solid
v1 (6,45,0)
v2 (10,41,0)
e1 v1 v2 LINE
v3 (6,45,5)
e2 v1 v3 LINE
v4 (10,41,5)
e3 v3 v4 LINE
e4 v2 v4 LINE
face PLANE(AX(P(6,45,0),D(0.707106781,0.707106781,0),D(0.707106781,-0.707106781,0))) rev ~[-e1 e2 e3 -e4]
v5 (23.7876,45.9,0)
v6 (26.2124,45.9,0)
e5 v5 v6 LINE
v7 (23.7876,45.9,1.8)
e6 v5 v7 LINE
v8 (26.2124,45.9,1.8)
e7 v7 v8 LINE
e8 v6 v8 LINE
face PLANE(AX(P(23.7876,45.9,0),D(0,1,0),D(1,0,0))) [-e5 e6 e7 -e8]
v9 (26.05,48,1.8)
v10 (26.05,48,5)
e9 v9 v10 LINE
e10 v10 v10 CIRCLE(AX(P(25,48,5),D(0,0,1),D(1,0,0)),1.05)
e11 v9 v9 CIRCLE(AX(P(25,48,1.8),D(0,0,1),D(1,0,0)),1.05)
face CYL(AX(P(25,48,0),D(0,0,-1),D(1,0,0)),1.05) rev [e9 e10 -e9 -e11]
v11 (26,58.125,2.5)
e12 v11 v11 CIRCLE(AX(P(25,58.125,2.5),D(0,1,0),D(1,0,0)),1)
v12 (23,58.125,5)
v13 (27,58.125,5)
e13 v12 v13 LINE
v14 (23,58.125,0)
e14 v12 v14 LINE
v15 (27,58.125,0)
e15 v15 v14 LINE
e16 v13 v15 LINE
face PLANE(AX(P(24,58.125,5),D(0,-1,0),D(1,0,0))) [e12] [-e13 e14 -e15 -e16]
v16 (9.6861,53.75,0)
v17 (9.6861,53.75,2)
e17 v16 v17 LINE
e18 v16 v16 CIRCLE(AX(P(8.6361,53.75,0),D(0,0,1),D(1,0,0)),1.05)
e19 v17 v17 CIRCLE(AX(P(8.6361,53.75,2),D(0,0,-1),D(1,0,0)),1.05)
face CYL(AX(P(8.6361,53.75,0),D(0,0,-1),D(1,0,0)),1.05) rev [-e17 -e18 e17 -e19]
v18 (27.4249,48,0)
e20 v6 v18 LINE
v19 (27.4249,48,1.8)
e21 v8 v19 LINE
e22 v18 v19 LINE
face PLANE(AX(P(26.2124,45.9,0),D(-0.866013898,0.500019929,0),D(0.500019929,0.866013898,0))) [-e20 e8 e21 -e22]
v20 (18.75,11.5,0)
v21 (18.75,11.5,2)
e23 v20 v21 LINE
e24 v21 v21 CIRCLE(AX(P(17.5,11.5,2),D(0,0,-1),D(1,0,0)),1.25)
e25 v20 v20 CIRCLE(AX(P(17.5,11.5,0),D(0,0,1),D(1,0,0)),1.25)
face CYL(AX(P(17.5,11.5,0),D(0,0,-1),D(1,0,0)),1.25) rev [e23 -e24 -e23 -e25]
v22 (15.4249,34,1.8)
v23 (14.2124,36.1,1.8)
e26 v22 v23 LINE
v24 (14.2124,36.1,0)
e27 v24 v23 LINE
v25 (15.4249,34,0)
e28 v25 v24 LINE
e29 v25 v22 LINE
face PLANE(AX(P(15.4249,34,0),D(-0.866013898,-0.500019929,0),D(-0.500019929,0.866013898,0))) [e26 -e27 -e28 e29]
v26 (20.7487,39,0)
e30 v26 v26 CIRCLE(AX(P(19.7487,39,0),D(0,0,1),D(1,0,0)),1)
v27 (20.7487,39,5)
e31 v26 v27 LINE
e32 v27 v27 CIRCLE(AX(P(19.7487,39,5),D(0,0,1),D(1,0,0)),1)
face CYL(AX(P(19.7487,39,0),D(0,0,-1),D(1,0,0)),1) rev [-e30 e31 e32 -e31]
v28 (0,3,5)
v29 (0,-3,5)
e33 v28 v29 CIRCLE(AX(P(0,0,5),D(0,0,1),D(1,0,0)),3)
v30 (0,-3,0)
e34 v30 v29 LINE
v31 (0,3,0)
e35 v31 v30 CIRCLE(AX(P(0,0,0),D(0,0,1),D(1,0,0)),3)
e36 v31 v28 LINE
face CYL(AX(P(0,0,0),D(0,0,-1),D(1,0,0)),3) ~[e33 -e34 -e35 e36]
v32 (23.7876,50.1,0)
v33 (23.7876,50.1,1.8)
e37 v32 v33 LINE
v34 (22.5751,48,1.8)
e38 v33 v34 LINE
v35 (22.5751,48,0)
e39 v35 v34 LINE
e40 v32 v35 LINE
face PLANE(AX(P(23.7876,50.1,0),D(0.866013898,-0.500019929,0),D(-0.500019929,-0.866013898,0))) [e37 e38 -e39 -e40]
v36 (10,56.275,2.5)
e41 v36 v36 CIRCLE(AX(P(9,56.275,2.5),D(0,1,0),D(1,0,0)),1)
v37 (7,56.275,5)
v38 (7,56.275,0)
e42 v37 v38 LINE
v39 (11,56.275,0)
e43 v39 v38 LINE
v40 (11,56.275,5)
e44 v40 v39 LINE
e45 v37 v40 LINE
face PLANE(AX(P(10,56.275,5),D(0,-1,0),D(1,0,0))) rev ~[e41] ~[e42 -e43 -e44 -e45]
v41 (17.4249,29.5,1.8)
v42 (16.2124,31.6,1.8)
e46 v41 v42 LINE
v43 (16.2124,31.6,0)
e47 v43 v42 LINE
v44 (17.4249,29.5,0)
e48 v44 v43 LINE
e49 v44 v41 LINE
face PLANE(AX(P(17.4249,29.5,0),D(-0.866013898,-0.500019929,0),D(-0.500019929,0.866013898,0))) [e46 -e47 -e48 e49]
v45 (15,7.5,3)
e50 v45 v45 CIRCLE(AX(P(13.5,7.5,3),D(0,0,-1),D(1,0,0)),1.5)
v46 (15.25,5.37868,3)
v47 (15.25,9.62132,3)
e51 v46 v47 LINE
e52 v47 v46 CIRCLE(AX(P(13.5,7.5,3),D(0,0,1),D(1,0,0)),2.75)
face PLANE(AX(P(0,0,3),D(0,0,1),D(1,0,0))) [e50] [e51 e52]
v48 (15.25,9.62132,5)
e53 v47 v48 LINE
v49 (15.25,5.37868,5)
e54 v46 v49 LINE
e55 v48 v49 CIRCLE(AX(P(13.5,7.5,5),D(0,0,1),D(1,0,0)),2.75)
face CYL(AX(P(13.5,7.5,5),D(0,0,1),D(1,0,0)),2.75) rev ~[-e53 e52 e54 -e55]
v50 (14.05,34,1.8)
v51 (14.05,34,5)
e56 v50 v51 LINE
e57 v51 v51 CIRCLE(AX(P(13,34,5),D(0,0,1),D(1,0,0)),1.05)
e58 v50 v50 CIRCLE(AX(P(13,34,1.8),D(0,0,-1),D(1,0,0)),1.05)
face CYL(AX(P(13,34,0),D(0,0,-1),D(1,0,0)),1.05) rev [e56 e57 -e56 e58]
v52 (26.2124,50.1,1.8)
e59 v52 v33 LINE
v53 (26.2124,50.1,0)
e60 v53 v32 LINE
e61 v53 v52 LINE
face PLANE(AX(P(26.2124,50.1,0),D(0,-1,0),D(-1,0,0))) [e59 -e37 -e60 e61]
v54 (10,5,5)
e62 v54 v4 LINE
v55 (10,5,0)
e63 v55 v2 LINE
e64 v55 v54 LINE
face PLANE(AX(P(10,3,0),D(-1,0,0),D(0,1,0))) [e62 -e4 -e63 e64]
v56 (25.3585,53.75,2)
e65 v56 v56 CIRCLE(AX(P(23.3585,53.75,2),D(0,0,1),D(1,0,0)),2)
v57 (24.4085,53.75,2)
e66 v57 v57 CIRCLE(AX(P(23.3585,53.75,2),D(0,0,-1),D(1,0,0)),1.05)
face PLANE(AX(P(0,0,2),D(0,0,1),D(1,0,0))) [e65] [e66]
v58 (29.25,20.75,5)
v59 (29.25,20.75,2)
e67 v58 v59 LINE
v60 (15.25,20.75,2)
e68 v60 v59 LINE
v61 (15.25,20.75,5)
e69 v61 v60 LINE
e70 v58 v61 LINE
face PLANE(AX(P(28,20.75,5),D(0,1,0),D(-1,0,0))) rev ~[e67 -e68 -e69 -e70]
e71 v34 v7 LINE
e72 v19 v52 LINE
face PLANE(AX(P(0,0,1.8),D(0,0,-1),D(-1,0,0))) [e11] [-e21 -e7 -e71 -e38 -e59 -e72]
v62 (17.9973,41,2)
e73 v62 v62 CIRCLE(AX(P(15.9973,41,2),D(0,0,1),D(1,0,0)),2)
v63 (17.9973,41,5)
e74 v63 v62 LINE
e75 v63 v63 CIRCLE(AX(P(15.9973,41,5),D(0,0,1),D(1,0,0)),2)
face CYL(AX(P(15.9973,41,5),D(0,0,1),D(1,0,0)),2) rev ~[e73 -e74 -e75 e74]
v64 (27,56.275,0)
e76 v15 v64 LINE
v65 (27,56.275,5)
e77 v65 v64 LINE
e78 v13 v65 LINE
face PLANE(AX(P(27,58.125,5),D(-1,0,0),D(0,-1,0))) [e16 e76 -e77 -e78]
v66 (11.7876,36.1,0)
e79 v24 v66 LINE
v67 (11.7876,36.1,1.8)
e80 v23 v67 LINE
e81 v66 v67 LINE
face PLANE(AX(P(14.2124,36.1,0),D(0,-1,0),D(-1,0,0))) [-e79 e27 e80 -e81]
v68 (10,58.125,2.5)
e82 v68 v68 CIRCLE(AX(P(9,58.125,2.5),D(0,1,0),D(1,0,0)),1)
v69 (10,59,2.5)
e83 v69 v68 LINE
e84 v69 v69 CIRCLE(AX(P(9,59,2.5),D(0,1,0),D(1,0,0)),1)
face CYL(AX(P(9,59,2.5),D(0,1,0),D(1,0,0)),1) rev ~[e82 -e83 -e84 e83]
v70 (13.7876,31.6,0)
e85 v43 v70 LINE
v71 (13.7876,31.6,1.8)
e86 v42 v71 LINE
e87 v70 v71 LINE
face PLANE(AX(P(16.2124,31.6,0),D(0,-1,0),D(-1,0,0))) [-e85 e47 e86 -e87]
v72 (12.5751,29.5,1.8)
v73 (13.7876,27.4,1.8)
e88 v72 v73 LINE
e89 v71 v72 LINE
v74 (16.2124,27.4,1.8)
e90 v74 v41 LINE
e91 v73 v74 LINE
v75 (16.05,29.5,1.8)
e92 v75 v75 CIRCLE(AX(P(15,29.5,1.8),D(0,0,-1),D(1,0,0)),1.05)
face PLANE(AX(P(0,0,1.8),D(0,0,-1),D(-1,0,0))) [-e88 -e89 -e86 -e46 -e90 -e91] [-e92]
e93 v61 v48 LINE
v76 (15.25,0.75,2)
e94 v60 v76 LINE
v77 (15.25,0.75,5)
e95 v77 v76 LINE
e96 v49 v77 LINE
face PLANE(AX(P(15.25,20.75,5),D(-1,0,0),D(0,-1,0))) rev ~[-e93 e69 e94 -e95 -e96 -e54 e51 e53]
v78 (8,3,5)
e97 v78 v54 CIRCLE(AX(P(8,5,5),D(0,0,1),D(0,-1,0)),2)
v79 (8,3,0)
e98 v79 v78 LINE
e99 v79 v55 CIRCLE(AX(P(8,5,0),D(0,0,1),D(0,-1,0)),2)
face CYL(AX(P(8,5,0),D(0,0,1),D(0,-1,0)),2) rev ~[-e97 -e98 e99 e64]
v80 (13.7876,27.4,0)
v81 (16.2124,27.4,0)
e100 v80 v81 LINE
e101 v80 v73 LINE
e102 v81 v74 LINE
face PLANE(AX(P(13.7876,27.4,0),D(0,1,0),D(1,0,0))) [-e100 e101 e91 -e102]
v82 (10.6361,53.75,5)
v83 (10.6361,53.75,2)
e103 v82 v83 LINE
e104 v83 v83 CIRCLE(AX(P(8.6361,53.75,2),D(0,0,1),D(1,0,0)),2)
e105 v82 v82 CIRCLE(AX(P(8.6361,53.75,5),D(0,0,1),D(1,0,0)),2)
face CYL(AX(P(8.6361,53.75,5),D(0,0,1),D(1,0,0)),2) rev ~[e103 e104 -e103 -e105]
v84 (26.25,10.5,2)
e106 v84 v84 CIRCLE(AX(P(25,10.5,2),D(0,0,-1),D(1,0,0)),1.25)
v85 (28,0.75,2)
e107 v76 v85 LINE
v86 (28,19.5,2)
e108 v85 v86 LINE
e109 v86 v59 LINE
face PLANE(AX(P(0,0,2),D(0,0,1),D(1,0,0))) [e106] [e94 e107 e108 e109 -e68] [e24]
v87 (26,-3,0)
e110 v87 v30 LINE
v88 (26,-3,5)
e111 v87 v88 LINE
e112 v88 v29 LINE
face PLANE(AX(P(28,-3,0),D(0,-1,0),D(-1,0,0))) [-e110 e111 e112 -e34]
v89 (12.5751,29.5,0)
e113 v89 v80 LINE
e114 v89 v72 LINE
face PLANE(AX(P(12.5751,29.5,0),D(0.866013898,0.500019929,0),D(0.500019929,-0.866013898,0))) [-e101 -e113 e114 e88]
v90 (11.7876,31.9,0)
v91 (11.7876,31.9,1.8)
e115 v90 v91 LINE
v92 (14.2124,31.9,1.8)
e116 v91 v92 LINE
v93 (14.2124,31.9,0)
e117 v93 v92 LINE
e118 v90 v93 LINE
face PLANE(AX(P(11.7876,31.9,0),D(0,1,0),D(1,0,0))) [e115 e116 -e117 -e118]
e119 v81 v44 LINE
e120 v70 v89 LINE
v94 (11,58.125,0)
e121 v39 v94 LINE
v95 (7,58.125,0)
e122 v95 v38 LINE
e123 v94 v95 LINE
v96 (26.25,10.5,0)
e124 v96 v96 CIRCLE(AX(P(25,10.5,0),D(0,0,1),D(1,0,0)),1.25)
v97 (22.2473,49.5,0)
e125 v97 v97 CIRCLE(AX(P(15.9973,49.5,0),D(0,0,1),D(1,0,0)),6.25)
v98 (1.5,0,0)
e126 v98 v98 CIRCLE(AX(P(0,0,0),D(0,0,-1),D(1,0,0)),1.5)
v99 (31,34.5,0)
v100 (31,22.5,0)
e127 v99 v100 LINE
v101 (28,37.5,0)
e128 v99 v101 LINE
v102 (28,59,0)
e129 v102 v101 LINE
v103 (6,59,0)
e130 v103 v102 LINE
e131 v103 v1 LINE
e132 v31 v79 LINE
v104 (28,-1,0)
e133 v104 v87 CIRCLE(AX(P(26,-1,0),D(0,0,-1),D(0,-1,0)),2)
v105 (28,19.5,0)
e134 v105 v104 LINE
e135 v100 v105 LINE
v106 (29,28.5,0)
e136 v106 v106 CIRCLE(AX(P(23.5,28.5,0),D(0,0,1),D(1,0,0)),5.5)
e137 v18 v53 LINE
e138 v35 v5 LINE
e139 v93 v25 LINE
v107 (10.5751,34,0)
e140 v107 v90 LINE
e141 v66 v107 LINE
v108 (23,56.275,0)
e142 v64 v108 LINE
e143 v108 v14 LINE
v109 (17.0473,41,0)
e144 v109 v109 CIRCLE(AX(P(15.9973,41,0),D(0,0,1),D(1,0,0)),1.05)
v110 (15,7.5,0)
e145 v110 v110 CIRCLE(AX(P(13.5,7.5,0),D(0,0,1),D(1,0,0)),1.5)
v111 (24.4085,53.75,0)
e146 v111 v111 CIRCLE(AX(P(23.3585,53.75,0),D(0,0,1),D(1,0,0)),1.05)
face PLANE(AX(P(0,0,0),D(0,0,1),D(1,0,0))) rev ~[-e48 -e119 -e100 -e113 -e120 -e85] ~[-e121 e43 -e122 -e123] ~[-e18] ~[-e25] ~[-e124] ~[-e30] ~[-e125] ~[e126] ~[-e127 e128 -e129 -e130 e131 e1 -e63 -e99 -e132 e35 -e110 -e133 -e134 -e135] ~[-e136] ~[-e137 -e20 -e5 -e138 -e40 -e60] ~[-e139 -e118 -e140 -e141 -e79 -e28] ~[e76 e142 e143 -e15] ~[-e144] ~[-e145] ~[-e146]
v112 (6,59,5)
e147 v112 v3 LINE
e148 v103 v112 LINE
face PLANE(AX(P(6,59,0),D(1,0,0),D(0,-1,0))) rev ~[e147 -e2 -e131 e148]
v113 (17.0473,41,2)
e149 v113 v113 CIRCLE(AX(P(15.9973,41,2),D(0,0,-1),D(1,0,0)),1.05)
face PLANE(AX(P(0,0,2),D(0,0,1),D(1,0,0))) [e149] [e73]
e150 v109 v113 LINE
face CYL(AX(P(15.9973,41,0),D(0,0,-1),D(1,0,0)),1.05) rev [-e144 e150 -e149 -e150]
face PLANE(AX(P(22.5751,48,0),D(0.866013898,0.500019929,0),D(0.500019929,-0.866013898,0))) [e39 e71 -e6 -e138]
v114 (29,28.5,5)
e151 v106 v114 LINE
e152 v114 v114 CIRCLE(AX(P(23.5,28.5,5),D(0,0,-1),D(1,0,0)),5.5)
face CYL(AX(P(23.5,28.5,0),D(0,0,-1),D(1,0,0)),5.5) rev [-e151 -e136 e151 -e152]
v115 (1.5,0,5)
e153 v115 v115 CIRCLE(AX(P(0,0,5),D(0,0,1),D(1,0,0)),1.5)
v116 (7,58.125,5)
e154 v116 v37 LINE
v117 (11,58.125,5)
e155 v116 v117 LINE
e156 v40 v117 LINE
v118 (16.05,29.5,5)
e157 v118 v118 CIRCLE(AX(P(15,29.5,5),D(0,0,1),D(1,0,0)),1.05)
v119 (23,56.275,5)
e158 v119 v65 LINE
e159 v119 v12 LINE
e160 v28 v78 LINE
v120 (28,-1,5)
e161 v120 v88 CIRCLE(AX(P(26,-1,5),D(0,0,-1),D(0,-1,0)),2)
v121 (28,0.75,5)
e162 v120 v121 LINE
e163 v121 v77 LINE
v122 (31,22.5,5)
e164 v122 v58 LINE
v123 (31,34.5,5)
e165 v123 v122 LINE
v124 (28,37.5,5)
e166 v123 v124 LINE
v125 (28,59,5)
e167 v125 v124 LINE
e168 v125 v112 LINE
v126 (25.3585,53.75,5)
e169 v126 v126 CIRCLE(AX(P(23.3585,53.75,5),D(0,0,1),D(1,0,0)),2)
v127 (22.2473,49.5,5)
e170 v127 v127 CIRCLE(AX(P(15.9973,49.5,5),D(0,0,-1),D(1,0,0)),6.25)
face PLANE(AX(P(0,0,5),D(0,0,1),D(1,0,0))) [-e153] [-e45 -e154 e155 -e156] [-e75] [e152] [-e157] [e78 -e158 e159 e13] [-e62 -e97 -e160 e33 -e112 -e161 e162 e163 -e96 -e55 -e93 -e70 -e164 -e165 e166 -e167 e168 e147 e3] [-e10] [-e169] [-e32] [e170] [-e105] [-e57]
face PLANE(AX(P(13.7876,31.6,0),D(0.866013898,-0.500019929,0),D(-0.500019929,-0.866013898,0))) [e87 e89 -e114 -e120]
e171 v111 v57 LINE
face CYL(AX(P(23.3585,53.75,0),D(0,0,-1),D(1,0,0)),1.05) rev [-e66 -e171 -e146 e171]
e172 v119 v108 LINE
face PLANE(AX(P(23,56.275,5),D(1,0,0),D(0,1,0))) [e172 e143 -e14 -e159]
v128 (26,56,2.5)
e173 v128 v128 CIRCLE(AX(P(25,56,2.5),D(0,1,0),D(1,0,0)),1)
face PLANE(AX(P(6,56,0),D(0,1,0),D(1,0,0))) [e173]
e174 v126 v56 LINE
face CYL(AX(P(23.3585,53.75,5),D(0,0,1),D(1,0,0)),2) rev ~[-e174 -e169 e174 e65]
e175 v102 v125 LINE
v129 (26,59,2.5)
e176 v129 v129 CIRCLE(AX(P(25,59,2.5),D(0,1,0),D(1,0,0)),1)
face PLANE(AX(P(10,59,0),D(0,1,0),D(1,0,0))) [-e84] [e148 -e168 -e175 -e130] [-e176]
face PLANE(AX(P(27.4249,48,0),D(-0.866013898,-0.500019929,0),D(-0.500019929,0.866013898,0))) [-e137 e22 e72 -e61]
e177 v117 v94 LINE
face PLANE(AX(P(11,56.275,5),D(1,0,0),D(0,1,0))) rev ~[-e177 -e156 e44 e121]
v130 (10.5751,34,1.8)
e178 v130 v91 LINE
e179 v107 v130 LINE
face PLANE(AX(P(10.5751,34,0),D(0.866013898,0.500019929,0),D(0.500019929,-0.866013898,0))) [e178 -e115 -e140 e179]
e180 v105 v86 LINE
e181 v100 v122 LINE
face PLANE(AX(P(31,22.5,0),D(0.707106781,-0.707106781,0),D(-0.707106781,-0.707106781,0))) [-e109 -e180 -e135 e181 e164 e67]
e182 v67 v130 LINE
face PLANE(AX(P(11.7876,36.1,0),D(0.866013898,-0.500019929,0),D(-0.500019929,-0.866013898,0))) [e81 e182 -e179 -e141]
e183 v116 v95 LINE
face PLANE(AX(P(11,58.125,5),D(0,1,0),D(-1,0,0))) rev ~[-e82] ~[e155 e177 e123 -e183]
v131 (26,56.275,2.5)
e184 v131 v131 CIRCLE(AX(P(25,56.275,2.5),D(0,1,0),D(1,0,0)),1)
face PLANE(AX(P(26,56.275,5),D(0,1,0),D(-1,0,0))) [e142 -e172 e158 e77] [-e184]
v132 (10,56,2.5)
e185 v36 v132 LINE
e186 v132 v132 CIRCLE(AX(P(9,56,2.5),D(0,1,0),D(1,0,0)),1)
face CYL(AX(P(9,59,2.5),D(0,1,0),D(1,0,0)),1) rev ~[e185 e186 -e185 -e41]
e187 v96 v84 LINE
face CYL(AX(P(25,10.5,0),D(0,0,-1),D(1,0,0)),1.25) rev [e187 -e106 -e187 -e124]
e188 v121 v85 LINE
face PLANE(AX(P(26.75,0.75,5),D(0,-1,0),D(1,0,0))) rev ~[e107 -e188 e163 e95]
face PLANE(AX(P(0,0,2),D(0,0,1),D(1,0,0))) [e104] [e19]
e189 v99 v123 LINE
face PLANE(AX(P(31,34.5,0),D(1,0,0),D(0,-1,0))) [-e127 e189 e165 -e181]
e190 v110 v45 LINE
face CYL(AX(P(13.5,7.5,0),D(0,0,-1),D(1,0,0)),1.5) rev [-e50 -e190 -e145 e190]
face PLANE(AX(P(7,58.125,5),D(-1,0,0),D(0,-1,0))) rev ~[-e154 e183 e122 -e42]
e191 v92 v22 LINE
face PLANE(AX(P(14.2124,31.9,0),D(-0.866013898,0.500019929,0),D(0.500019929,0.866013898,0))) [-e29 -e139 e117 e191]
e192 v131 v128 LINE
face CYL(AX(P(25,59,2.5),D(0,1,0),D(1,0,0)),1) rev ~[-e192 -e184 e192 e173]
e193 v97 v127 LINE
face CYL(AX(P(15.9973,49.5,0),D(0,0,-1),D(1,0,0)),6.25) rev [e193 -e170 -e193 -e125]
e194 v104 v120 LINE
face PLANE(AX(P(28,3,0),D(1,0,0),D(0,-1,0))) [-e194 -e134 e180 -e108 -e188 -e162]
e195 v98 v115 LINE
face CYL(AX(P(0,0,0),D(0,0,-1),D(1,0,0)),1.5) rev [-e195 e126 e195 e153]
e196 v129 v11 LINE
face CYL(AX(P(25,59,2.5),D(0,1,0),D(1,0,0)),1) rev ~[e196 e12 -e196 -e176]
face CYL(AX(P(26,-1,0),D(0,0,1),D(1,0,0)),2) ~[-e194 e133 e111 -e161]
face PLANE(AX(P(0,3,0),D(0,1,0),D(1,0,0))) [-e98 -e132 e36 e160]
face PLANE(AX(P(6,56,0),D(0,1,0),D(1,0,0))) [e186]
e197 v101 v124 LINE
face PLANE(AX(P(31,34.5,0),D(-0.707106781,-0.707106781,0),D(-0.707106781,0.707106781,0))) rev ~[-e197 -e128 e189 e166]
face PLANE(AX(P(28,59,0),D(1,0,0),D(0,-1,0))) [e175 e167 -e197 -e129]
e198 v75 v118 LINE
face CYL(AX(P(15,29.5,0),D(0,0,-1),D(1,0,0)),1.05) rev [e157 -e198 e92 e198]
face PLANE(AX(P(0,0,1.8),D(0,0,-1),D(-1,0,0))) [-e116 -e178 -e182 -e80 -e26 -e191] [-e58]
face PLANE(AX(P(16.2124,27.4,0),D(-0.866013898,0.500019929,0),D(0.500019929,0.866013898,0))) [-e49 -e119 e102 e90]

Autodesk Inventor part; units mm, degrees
ref_plane "YZ Plane" through (0, 0, 0) normal (1, 0, 0) x (0, 1, 0)
ref_plane "XZ Plane" through (0, 0, 0) normal (0, 1, 0) x (-1, 0, 0)
ref_plane "XY Plane" through (0, 0, 0) normal (0, 0, 1) x (1, 0, 0)
sketch "Sketch1" plane through (0, 0, 0) normal (0, 0, 1) x (1, 0, 0)
  circle A0 centre (0, 0) radius 1.5
  circle A1 centre (0, 0) radius 3
  line L0 (0, 3) -> (28, 3)
  line L1 (28, 3) -> (28, -3)
  line L2 (28, -3) -> (0, -3)
  line L3 (0, -3) -> (0, 3)
  line L4 (28, 3) -> (10, 3)
  line L5 (10, 3) -> (10, 59)
  line L6 (10, 59) -> (28, 59)
  line L7 (28, 59) -> (28, 3)
  circle A2 centre (23.5, 28.5) radius 5.5
  circle A3 centre (15.9973, 49.5) radius 6.25
  line L8 (23.5, 28.5) -> (15.9973, 49.5) construction
  line L9 (23.5, 28.5) -> (10, 28.5) construction
  circle A4 centre (15.9973, 41) radius 1.05
  circle A5 centre (23.3585, 53.75) radius 1.05
  circle A6 centre (8.6361, 53.75) radius 1.05
  line L10 (10, 59) -> (6, 59)
  line L11 (6, 59) -> (6, 45)
  line L12 (6, 45) -> (10, 45)
  line L13 (10, 45) -> (10, 59)
  line L14 (6, 45) -> (10, 41)
  line L15 (6, 45) -> (11.6569, 45) construction
  line L16 (28, 34.5) -> (31, 34.5)
  line L17 (31, 34.5) -> (31, 22.5)
  line L18 (31, 22.5) -> (28, 22.5)
  line L19 (28, 22.5) -> (28, 34.5)
  line L20 (31, 34.5) -> (28, 37.5)
  line L21 (31, 34.5) -> (35.2426, 34.5) construction
  line L22 (31, 22.5) -> (28, 19.5)
  line L23 (31, 22.5) -> (35.2426, 22.5) construction
  circle A7 centre (13.5, 7.5) radius 1.5
  circle A8 centre (17.5, 11.5) radius 1.25
  circle A9 centre (25, 10.5) radius 1.25
  line L24 (15.9973, 49.5) -> (6, 49.5) construction
  line L25 (15.9973, 41) -> (15.9973, 49.5) construction
  circle A10 centre (19.7487, 39) radius 1
  circle A11 centre (15, 29.5) radius 1.05
  circle A12 centre (13, 34) radius 1.05
  circle A13 centre (25, 48) radius 1.05
  line L26 (10, 27) -> (28, 27) construction
  line L27 (28, 27) -> (28, 51) construction
  line L28 (28, 51) -> (10, 51) construction
  line L29 (10, 51) -> (10, 27) construction
  line L30 (11.7876, 31.9) -> (10.5751, 34) construction
  line L31 (10.5751, 34) -> (11.7876, 36.1) construction
  line L32 (11.7876, 36.1) -> (14.2124, 36.1) construction
  line L33 (14.2124, 36.1) -> (15.4249, 34) construction
  line L34 (15.4249, 34) -> (14.2124, 31.9) construction
  line L35 (14.2124, 31.9) -> (11.7876, 31.9) construction
  line L36 (13.7876, 27.4) -> (12.5751, 29.5) construction
  line L37 (12.5751, 29.5) -> (13.7876, 31.6) construction
  line L38 (13.7876, 31.6) -> (16.2124, 31.6) construction
  line L39 (16.2124, 31.6) -> (17.4249, 29.5) construction
  line L40 (17.4249, 29.5) -> (16.2124, 27.4) construction
  line L41 (16.2124, 27.4) -> (13.7876, 27.4) construction
  dimension "d0" = 3
  dimension "d1" = 6
  dimension "d2" = 28
  dimension "d3" = 6
  dimension "d4" = 0
  dimension "d5" = 3
  dimension "d6" = 18
  dimension "d7" = 56
  dimension "d8" = 11
  dimension "d9" = 4.5
  dimension "d10" = 25.5
  dimension "d11" = 12.5
  dimension "d12" = 22.3
  dimension "d14" = 2.1
  dimension "d17" = 9.5
  dimension "d20" = 360
  dimension "d22" = 4
  dimension "d23" = 14
  dimension "d24" = 45
  dimension "d25" = 3
  dimension "d26" = 12
  dimension "d27" = 6
  dimension "d28" = 135
  dimension "d29" = 135
  dimension "d32" = 3
  dimension "d33" = 10.5
  dimension "d34" = 3.5
  dimension "d35" = 2.5
  dimension "d36" = 14.5
  dimension "d37" = 7.5
  dimension "d38" = 2.5
  dimension "d39" = 15
  dimension "d40" = 13.5
  dimension "d60" = 8.5
  dimension "d61" = 270
  dimension "d82" = 2
  dimension "d83" = 11.15
  dimension "d84" = 2.1
  dimension "d85" = 2.1
  dimension "d86" = 2.1
  dimension "d87" = 5
  dimension "d88" = 3
  dimension "d89" = 25
  dimension "d90" = 29.5
  dimension "d91" = 3
  dimension "d92" = 11
  dimension "d93" = 24
  dimension "d94" = 8
  dimension "d101" = 2.1
  dimension "d102" = 2.1
extrude "Extrusion1" add sketch "Sketch1" along normal blind 5 contours A0 L3 A1 | A0 L3 A1 | L0 L1 L2 A1 | L5 A3 L6 L7 A2 L0 | L14 L12 L5 | L7 L18 L22 | L12 L11 L10 L5 A3 | L7 A2 L16 L17 L18 | L16 L7 L20
fillet "Fillet1" radius 2 1 edges at (28, -3, 2.5)
fillet "Fillet2" radius 2 1 edges at (10, 3, 2.5)
sketch "Sketch2" plane through (0, 0, 5) normal (0, 0, 1) x (1, 0, 0)
  line L0 (28, -1) -> (28, 19.5) projected
  line L1 (0, -3) -> (26, -3) projected
  line L2 (28, -1) -> (28, 19.5) projected
  line L3 (28, 20.75) -> (15.25, 20.75)
  line L4 (15.25, 20.75) -> (15.25, 0.75)
  line L5 (15.25, 0.75) -> (28, 0.75)
  line L6 (28, 0.75) -> (28, 20.75)
  line L7 (28, 19.5) -> (31, 22.5) projected
  line L8 (28, 20.75) -> (29.25, 20.75)
  line L9 (28, 19.5) -> (31, 22.5) projected
  line L10 (26.75, 20.75) -> (26.75, 0.75)
  point P0 (0, 0)
  point P1 (28, 19.5)
  point P2 (28, 19.5)
  dimension "d43" = 12.75
  dimension "d44" = 20
  dimension "d45" = 23.75
extrude "Extrusion2" cut sketch "Sketch2" against normal blind 3
sketch "Sketch3" plane through (6, 59, 0) normal (0, 1, 0) x (1, 0, 0)
  circle A0 centre (3, -2.5) radius 1
  line L0 (22, 0) -> (0, 0) projected
  line L1 (0, 0) -> (0, -5) projected
  line L2 (22, -5) -> (0, -5) projected
  line L3 (22, 0) -> (22, -5) projected
  circle A1 centre (19, -2.5) radius 1
  dimension "d48" = 2
  dimension "d49" = 2
  dimension "d50" = 2.5
  dimension "d51" = 2.5
  dimension "d52" = 3
  dimension "d53" = 3
extrude "Extrusion3" cut sketch "Sketch3" against normal blind 3 contours A0 | A1
thread "Thread1" size "M2x0.4" class "6H" standard "ANSI Metric M Profile" length 7
thread "Thread2" size "M2x0.4" class "6H" standard "ANSI Metric M Profile" length 7
sketch "Sketch5" plane through (0, 0, 5) normal (0, 0, 1) x (1, 0, 0)
  circle A0 centre (15.9973, 41) radius 1.05 projected
  circle A1 centre (8.6361, 53.75) radius 1.05 projected
  circle A2 centre (23.3585, 53.75) radius 1.05 projected
  circle A3 centre (15.9973, 41) radius 2
  circle A4 centre (8.6361, 53.75) radius 2
  circle A5 centre (23.3585, 53.75) radius 2
  point P0 (0, 0)
  dimension "d62" = 4
  dimension "d63" = 4
  dimension "d64" = 4
extrude "Extrusion4" cut sketch "Sketch5" against normal blind 3 contours A0 | A1 | A2 | A3 | A4 | A5
sketch "Sketch7" plane through (0, 0, 5) normal (0, 0, 1) x (1, 0, 0)
  circle A0 centre (13.5, 7.5) radius 1.5 projected
  circle A1 centre (13.5, 7.5) radius 2.75
  point P0 (0, 0)
  dimension "d67" = 5.5
extrude "Extrusion5" cut sketch "Sketch7" against normal blind 2 contours A0 | A1
sketch "Sketch8" plane through (0, 0, 5) normal (0, 0, 1) x (1, 0, 0)
  line L0 (10, 59) -> (10, 56) projected
  line L1 (8, 59) -> (8, 56) projected
  circle A0 centre (23.3585, 53.75) radius 2 projected
  circle A1 centre (8.6361, 53.75) radius 2 projected
  circle A2 centre (15.9973, 41) radius 2 projected
  circle A3 centre (23.5, 28.5) radius 5.5 projected
  circle A4 centre (15.9973, 49.5) radius 6.25 projected
  arc A5 (15.25, 9.6213) -> (15.25, 5.3787) centre (13.5, 7.5) ccw projected
  line L2 (15.25, 9.6213) -> (15.25, 20.75) projected
  line L3 (15.25, 20.75) -> (29.25, 20.75) projected
  line L4 (29.25, 20.75) -> (31, 22.5) projected
  line L5 (31, 22.5) -> (31, 34.5) projected
  line L6 (31, 34.5) -> (28, 37.5) projected
  line L7 (28, 37.5) -> (28, 59) projected
  line L8 (28, 59) -> (6, 59) projected
  line L9 (6, 59) -> (6, 45) projected
  line L10 (6, 45) -> (10, 41) projected
  line L11 (10, 41) -> (10, 5) projected
  line L12 (24, 59) -> (24, 56) projected
  line L13 (26, 59) -> (26, 56) projected
  line L14 (7, 56.275) -> (11, 56.275)
  line L15 (11, 56.275) -> (11, 58.125)
  line L16 (11, 58.125) -> (7, 58.125)
  line L17 (7, 58.125) -> (7, 56.275)
  line L18 (7, 56.275) -> (11, 58.125) construction
  line L19 (11, 56.275) -> (7, 58.125) construction
  line L20 (23, 58.125) -> (27, 58.125)
  line L21 (27, 58.125) -> (27, 56.275)
  line L22 (27, 56.275) -> (23, 56.275)
  line L23 (23, 56.275) -> (23, 58.125)
  line L24 (23, 58.125) -> (27, 56.275) construction
  line L25 (27, 58.125) -> (23, 56.275) construction
  arc A6 (8, 3) -> (10, 5) centre (8, 5) ccw projected
  line L26 (8, 3) -> (0, 3) projected
  arc A7 (0, 3) -> (0, -3) centre (0, 0) ccw projected
  line L27 (0, -3) -> (26, -3) projected
  arc A8 (26, -3) -> (28, -1) centre (26, -1) ccw projected
  line L28 (28, -1) -> (28, 0.75) projected
  line L29 (28, 0.75) -> (15.25, 0.75) projected
  line L30 (15.25, 0.75) -> (15.25, 5.3787) projected
  point P0 (9, 57.2)
  point P1 (25, 57.2)
  dimension "d70" = 4
  dimension "d71" = 1.85
  dimension "d72" = 4
  dimension "d73" = 1.85
  dimension "d74" = 1
  dimension "d75" = 1.8
  dimension "d76" = 1.8
  dimension "d77" = 1
extrude "Extrusion6" cut sketch "Sketch8" against normal up to surface (5 mm away) contours L16 L15 L14 L0 | L0 L14 L1 L16 | L1 L14 L17 L16 | L20 L13 L22 L12 | L12 L22 L23 L20 | L20 L21 L22 L13
sketch "Sketch10" plane through (0, 0, 0) normal (0, 0, -1) x (-1, 0, 0)
  circle A0 centre (-25, 48) radius 1.05 projected
  circle A1 centre (-13, 34) radius 1.05 projected
  circle A2 centre (-15, 29.5) radius 1.05 projected
  line L0 (-26.2124, 45.9) -> (-27.4249, 48)
  line L1 (-27.4249, 48) -> (-26.2124, 50.1)
  line L2 (-26.2124, 50.1) -> (-23.7876, 50.1)
  line L3 (-23.7876, 50.1) -> (-22.5751, 48)
  line L4 (-22.5751, 48) -> (-23.7876, 45.9)
  line L5 (-23.7876, 45.9) -> (-26.2124, 45.9)
  line L6 (-16.2124, 27.4) -> (-17.4249, 29.5)
  line L7 (-17.4249, 29.5) -> (-16.2124, 31.6)
  line L8 (-16.2124, 31.6) -> (-13.7876, 31.6)
  line L9 (-13.7876, 31.6) -> (-12.5751, 29.5)
  line L10 (-12.5751, 29.5) -> (-13.7876, 27.4)
  line L11 (-13.7876, 27.4) -> (-16.2124, 27.4)
  line L12 (-14.2124, 31.9) -> (-15.4249, 34)
  line L13 (-15.4249, 34) -> (-14.2124, 36.1)
  line L14 (-14.2124, 36.1) -> (-11.7876, 36.1)
  line L15 (-11.7876, 36.1) -> (-10.5751, 34)
  line L16 (-10.5751, 34) -> (-11.7876, 31.9)
  line L17 (-11.7876, 31.9) -> (-14.2124, 31.9)
  point P0 (0, 0)
  point P1 (-13.9053, 32.1)
  point P2 (-12.0947, 30.9)
  dimension "d95" = 2.1
  dimension "d96" = 2.1
  dimension "d98" = 2.1
extrude "Extrusion7" cut sketch "Sketch10" against normal blind 1.8 contours A1 | A2 | L0 L1 L2 L3 L4 L5 | L6 L7 L8 L9 L10 L11 | L12 L13 L14 L15 L16 L17
properties part number "PartA_3D"
